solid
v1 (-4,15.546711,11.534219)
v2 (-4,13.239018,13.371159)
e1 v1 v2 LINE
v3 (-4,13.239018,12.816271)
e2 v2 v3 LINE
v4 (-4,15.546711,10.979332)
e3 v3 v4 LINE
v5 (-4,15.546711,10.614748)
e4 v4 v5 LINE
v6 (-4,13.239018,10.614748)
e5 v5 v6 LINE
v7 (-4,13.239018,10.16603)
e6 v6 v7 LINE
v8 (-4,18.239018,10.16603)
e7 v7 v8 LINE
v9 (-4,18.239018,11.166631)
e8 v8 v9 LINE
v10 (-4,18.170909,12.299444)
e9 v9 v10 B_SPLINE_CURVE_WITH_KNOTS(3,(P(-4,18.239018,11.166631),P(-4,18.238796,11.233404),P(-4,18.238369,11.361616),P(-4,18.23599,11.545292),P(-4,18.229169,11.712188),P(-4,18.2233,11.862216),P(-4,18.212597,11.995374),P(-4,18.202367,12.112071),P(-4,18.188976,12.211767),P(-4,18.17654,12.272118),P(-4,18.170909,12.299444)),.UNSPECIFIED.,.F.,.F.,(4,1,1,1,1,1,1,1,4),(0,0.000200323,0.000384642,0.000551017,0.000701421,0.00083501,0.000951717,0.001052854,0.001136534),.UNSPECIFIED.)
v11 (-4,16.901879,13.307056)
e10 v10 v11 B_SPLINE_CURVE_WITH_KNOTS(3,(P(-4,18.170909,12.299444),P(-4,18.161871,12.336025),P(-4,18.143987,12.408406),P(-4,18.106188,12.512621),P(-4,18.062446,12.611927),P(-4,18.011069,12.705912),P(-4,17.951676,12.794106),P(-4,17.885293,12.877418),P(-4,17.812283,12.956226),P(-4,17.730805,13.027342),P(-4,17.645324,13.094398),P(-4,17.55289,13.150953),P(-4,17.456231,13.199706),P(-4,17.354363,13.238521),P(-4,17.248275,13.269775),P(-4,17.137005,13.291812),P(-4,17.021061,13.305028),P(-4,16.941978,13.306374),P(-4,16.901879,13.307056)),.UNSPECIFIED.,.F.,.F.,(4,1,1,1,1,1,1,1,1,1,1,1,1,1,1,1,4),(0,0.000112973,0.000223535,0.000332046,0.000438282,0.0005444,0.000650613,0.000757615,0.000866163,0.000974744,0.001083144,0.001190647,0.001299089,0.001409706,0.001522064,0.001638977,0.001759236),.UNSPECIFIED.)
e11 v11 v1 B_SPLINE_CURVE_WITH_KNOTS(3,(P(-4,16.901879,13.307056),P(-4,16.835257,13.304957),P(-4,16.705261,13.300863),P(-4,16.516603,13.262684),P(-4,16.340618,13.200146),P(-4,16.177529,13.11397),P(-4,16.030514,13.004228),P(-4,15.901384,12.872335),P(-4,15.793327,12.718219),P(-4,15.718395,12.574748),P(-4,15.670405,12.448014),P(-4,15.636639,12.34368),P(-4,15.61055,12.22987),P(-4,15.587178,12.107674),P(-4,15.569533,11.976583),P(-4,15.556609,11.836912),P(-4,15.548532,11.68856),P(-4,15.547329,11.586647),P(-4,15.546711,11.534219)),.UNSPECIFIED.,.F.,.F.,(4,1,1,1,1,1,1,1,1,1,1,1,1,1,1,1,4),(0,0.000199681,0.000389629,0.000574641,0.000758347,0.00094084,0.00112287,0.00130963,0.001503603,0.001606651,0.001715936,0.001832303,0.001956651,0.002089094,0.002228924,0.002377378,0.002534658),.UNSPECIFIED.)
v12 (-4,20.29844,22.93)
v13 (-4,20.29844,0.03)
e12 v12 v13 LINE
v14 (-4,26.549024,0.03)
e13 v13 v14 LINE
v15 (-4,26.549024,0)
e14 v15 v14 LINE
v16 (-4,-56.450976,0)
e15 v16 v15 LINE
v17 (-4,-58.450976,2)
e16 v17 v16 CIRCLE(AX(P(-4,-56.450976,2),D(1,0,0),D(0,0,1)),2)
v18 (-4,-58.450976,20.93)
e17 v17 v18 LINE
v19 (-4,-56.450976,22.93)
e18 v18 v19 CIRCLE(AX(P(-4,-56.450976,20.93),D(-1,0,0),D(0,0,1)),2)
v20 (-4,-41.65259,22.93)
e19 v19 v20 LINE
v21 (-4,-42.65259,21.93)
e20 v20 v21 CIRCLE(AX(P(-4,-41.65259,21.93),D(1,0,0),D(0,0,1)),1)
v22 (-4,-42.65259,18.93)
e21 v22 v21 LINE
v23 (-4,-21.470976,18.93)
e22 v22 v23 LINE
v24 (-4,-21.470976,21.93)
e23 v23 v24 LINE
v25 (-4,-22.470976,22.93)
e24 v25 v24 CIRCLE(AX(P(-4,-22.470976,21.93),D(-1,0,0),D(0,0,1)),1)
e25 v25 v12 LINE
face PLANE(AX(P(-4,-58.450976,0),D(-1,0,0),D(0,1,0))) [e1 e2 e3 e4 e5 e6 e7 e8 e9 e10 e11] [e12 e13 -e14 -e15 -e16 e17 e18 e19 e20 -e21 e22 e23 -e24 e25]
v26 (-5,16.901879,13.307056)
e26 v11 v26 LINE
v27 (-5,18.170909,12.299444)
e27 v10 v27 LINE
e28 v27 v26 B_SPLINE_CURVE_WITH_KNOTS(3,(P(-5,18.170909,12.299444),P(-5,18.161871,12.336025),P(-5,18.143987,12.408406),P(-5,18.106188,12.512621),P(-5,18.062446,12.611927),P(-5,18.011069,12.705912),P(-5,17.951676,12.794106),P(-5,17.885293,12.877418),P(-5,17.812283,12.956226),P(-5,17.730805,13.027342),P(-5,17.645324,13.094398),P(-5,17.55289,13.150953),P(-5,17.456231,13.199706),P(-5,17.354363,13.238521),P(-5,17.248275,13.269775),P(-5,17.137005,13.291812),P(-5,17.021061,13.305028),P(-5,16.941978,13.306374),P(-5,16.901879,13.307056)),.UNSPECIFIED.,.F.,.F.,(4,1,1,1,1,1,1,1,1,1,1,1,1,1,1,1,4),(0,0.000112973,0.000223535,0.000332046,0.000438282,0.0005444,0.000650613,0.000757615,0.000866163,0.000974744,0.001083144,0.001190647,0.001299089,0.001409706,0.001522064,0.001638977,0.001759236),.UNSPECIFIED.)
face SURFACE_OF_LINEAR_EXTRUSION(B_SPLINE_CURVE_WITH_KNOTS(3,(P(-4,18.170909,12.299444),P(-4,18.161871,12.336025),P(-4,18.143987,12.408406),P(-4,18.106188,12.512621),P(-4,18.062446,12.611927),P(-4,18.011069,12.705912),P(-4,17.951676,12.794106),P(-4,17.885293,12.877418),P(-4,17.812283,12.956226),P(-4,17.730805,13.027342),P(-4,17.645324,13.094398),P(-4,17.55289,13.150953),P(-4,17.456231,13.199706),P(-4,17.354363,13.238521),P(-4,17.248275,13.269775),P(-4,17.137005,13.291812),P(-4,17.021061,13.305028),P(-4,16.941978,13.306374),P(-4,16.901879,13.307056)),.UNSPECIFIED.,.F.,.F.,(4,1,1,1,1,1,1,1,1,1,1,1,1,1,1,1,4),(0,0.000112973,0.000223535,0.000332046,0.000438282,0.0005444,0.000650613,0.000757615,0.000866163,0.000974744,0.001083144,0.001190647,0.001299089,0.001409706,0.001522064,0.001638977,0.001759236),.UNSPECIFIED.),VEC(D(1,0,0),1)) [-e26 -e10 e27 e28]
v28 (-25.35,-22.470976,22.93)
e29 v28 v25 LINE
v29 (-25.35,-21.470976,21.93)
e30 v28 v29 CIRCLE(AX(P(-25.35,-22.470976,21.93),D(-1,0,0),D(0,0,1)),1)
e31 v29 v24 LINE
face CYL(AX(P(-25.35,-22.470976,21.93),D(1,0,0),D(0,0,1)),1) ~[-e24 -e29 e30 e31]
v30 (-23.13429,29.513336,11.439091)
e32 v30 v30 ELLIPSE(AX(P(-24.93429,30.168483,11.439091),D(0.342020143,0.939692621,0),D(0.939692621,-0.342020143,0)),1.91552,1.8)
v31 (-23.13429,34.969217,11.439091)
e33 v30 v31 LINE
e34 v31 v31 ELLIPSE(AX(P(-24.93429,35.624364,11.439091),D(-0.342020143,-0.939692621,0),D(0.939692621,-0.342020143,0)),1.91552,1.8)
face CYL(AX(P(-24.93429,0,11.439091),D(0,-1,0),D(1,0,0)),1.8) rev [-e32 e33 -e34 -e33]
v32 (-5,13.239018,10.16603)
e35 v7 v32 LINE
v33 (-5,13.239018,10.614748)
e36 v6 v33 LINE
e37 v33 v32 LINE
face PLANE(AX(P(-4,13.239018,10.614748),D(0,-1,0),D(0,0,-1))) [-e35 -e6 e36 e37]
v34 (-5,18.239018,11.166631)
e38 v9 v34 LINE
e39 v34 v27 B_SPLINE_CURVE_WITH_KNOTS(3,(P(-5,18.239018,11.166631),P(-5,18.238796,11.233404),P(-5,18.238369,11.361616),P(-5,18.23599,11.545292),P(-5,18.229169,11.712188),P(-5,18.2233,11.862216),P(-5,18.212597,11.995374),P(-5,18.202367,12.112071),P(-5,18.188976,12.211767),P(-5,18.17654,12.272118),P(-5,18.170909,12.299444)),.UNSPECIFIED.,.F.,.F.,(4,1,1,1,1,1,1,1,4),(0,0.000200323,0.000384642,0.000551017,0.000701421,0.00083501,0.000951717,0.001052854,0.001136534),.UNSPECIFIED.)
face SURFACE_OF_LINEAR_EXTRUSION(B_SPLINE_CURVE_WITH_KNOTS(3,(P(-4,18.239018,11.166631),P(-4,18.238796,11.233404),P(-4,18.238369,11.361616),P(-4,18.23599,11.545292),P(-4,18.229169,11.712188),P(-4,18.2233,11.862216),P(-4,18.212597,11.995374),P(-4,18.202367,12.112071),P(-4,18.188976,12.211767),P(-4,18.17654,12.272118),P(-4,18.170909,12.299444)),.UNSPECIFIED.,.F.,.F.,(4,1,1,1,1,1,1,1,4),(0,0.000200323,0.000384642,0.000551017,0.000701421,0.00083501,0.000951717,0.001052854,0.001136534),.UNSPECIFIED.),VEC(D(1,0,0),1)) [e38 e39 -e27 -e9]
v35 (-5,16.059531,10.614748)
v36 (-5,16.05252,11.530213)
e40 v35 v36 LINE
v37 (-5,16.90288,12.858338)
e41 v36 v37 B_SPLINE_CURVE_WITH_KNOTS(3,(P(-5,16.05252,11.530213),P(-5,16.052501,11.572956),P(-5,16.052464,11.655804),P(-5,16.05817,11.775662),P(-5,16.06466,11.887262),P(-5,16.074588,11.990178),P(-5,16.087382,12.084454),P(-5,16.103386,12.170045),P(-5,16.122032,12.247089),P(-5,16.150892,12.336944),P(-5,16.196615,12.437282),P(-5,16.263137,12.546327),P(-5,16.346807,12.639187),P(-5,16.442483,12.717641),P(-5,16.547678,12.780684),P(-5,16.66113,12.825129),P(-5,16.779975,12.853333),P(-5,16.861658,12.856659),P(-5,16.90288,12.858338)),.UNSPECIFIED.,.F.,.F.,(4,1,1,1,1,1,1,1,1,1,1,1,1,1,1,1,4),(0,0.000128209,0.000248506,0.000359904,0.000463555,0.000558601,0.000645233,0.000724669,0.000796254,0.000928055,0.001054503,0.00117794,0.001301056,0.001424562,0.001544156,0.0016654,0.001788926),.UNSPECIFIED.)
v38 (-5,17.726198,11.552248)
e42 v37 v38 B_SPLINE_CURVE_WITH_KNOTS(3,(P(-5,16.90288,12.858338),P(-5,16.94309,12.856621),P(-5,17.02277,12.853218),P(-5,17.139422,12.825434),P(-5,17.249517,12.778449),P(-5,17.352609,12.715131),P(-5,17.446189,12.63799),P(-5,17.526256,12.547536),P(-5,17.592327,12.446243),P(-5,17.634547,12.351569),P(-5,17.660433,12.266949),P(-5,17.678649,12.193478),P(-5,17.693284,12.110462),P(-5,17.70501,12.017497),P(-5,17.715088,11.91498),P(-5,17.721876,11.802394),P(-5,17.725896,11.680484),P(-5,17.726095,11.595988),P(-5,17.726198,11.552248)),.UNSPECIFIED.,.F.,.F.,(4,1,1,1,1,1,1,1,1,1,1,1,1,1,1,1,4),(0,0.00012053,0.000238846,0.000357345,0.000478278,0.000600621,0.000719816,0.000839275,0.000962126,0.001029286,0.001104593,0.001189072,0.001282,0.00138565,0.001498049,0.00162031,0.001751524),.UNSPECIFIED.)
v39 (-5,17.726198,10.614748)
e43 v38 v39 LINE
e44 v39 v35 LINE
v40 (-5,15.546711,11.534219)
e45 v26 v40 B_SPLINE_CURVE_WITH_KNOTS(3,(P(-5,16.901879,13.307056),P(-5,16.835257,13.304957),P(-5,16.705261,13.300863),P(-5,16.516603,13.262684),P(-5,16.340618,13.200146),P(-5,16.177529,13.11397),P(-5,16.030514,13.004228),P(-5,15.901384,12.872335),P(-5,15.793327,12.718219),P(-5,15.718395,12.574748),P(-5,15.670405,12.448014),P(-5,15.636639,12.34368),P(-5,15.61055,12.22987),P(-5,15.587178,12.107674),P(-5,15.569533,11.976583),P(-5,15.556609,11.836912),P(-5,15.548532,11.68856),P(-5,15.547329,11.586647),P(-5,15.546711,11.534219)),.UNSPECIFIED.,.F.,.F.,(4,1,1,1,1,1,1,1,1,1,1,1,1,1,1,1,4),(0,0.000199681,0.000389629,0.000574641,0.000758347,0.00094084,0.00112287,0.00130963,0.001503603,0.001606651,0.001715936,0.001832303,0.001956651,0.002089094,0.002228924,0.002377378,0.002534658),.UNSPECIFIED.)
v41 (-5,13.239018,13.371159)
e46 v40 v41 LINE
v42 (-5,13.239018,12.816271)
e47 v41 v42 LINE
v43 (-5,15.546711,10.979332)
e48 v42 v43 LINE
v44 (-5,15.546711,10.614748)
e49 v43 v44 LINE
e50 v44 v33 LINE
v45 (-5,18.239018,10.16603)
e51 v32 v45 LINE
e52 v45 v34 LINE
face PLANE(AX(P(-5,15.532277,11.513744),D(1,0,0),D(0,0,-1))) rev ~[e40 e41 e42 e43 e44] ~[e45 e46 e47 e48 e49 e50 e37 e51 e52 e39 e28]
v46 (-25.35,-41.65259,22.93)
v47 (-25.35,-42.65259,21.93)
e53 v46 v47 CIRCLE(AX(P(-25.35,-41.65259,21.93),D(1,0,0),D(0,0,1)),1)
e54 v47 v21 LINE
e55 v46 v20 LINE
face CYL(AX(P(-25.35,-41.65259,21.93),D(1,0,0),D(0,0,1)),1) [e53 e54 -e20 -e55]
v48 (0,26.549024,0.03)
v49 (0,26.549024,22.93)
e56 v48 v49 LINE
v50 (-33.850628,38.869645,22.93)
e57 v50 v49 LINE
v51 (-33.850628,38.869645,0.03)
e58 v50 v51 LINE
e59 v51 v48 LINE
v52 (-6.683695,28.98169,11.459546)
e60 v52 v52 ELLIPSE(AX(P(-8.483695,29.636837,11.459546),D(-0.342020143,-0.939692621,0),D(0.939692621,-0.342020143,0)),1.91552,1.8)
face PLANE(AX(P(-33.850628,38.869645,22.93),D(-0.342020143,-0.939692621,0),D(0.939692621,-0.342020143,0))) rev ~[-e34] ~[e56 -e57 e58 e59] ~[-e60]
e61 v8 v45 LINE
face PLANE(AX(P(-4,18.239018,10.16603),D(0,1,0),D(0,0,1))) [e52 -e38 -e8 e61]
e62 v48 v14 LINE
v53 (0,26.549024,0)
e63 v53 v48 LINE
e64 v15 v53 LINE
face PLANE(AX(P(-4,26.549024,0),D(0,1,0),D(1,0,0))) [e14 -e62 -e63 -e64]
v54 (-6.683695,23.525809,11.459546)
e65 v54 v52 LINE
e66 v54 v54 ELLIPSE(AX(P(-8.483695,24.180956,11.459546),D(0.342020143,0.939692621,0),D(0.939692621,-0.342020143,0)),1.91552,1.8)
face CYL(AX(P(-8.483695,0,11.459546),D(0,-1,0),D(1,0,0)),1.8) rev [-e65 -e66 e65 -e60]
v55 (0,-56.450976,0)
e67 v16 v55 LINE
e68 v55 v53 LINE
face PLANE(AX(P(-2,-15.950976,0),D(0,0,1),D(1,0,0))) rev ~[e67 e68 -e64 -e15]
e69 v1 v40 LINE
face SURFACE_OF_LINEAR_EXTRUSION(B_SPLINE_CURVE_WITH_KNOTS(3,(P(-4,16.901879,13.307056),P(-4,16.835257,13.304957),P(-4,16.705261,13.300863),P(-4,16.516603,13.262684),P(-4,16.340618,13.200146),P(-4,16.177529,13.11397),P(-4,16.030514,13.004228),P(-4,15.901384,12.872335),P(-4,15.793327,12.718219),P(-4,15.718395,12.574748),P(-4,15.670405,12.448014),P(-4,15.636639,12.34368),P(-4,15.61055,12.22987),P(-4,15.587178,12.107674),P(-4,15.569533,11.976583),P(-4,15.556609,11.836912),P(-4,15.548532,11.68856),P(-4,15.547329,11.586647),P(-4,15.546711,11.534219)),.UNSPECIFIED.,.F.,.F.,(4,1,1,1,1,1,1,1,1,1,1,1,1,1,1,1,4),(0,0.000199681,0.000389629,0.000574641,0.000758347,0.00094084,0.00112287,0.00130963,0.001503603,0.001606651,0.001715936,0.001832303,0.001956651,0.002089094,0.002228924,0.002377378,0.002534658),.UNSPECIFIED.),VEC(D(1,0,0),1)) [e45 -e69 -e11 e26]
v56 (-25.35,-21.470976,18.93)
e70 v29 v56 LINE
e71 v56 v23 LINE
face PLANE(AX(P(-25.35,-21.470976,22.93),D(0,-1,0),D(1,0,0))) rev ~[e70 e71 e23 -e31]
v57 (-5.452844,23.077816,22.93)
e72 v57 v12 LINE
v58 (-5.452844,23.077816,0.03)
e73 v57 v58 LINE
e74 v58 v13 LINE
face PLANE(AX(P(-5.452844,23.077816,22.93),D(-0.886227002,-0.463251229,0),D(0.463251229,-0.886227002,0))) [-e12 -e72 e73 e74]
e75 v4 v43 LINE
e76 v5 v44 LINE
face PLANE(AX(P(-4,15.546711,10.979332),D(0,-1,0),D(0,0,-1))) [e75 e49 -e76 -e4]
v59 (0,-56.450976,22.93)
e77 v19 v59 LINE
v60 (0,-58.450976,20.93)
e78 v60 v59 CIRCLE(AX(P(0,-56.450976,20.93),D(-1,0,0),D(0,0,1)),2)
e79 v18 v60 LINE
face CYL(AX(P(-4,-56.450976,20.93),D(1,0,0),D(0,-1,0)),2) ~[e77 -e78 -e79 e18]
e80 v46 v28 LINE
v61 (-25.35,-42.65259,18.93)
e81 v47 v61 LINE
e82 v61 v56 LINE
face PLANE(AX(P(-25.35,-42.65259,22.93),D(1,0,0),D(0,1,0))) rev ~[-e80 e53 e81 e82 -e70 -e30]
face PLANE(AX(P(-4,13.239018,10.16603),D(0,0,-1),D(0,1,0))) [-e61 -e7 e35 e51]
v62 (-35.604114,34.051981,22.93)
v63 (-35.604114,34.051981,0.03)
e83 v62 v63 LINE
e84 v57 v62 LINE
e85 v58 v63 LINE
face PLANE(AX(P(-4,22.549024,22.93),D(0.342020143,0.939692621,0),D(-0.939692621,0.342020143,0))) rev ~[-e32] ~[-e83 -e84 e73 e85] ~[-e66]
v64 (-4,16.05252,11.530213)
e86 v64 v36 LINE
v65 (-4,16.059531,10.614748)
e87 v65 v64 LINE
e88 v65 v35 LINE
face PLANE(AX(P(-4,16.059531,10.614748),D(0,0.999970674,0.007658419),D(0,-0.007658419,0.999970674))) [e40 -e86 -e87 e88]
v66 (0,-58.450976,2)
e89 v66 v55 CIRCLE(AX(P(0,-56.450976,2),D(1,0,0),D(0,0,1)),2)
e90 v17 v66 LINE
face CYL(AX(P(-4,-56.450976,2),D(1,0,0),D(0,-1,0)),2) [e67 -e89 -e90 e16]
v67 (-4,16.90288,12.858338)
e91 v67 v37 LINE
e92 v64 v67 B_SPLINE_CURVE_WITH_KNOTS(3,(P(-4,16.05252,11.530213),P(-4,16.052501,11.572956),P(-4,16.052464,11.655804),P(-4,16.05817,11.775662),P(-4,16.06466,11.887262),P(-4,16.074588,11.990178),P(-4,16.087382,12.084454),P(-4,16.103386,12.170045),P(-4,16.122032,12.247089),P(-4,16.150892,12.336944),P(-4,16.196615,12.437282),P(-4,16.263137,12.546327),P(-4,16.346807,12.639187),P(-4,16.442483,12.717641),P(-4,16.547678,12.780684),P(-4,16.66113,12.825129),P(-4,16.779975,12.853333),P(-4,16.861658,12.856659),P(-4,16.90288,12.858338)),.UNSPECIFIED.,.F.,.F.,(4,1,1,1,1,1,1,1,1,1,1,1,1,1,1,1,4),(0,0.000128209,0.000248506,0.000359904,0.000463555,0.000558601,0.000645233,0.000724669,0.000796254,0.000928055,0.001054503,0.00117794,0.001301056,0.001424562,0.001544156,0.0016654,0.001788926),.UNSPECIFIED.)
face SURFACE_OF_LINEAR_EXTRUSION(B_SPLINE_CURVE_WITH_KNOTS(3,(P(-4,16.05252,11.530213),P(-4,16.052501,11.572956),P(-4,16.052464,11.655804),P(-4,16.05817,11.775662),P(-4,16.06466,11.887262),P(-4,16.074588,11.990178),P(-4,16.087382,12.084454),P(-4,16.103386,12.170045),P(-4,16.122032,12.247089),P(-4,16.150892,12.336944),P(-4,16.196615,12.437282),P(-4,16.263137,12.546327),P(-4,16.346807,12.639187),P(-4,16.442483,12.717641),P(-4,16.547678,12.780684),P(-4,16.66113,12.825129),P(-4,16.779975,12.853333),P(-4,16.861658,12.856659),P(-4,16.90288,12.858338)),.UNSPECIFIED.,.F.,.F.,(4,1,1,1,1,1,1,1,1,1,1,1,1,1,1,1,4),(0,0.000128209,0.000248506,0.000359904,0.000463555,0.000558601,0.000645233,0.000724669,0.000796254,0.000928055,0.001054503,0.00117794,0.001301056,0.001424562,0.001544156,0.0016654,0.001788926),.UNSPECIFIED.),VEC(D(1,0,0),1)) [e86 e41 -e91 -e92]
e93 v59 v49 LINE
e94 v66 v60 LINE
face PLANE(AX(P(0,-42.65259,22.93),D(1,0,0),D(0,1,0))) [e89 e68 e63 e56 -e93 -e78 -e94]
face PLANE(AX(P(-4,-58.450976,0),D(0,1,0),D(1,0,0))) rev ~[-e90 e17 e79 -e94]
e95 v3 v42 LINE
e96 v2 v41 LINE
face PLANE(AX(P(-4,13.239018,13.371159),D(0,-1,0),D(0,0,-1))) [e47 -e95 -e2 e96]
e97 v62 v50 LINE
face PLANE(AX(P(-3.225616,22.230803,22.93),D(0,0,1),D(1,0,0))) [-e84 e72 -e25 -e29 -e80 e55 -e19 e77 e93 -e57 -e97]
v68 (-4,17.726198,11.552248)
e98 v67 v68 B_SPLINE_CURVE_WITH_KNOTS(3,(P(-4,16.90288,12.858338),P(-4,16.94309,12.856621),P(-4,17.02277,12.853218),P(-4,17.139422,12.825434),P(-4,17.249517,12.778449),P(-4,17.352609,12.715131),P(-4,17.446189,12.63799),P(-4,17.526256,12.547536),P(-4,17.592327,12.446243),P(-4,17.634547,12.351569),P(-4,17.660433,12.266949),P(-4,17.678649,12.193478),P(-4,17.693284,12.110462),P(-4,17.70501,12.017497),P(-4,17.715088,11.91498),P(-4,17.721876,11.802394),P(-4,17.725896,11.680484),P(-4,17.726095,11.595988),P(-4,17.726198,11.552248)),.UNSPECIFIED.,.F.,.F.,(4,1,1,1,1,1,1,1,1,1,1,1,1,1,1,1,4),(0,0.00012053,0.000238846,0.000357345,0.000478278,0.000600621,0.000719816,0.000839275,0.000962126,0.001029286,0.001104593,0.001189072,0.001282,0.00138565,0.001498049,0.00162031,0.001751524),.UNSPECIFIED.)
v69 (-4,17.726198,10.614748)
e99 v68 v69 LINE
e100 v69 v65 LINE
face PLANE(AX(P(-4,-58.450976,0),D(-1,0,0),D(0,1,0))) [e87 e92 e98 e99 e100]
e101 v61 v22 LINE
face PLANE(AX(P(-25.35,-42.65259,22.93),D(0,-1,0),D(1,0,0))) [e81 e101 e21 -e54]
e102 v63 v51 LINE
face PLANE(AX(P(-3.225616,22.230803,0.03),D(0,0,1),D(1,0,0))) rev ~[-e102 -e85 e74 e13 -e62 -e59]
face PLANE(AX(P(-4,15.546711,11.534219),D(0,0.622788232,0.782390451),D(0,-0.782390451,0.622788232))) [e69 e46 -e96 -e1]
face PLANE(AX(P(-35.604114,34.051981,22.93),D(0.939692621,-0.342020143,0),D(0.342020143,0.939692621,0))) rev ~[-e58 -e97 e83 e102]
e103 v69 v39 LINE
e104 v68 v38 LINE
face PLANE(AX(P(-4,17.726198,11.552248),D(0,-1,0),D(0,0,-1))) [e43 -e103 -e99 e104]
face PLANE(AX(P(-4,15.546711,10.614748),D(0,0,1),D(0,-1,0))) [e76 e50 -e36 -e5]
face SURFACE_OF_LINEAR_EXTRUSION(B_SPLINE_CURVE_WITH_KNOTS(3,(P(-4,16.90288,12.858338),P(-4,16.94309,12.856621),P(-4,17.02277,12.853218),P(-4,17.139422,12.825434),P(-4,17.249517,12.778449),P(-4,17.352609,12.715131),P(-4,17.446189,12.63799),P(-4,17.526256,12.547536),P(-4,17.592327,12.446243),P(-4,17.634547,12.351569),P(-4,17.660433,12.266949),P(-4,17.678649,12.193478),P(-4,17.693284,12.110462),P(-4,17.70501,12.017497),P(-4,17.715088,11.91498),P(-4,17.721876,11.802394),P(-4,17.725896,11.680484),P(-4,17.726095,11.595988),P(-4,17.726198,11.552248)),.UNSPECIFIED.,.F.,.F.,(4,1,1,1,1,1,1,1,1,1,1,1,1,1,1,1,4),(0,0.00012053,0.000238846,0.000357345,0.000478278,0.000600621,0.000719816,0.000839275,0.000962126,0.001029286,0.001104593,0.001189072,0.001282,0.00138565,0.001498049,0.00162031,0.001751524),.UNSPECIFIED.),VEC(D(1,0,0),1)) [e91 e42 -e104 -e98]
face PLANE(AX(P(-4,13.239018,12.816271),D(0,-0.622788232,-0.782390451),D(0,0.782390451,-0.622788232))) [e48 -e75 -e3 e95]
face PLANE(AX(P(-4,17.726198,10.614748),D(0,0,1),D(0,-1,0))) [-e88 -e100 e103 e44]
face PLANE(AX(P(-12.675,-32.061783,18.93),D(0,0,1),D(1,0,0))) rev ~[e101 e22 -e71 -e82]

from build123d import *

# Parameters (mm, degrees)
ESQUISSE1_W             = 4
ESQUISSE1_H             = 85
BOSS_EXTRU_1_DEPTH      = 22.93
BOSS_EXTRU_5_DEPTH      = 22.9
ESQUISSE5_W             = 25.35
ESQUISSE5_H             = 21.181614094
BOSS_EXTRU_6_DEPTH      = 4
CONG_1_R                = 2
CONG_5_R                = 1
ESQUISSE9_R             = 1.8
ENL_V_MAT_EXTRU_1_DEPTH = 58
BOSS_EXTRU_8_DEPTH      = 1
BOSS_EXTRU_9_DEPTH      = 22.9


with BuildPart() as part:
    # Esquisse1 → Boss.-Extru.1 (new body)
    with BuildSketch(Plane.XY):
        with Locations((-2, -15.95097561)):
            Rectangle(ESQUISSE1_W, ESQUISSE1_H)
    extrude(amount=BOSS_EXTRU_1_DEPTH)

    # Esquisse2 → Boss.-Extru.5 (add)
    with BuildSketch(Plane.XY.offset(22.93)):
        Polygon((-33.850627534, 38.869645224), (0, 26.54902439), (0, 22.54902439), (-4, 22.54902439), (-35.604113867, 34.051981118), align=None)
    extrude(amount=-BOSS_EXTRU_5_DEPTH)

    # Esquisse5 → Boss.-Extru.6 (add)
    with BuildSketch(Plane.XY.offset(22.93)):
        with Locations((-12.675, -32.061782657)):
            Rectangle(ESQUISSE5_W, ESQUISSE5_H)
    extrude(amount=-BOSS_EXTRU_6_DEPTH)

    # Congé1
    cong_1_edges = [part.edges().sort_by_distance(p)[0] for p in [
        (-2, -58.45097561, 22.93),
        (-2, -58.45097561, 0),
    ]]
    fillet(cong_1_edges, radius=CONG_1_R)

    # Congé5
    cong_5_edges = [part.edges().sort_by_distance(p)[0] for p in [
        (-14.675, -21.47097561, 22.93),
        (-14.675, -42.652589704, 22.93),
    ]]
    fillet(cong_5_edges, radius=CONG_5_R)

    # Esquisse9 → Enlèv. mat.-Extru.1 (cut)
    with BuildSketch(Plane(origin=(0, 0, 0), x_dir=(1, 0, 0), z_dir=(0, 1, 0))):
        with Locations((-24.9342899, -11.439091382)):
            Circle(ESQUISSE9_R)
        with Locations((-8.483694977, -11.459545691)):
            Circle(ESQUISSE9_R)
    extrude(amount=ENL_V_MAT_EXTRU_1_DEPTH, mode=Mode.SUBTRACT)

    # Esquisse10 → Boss.-Extru.8 (add)
    with BuildSketch(Plane.ZY.offset(4)):
        with BuildLine():
            Line((10.166030362, 18.2390183), (11.166631323, 18.2390183))
            add(Edge.make_bspline(
                [(11.166631323, 18.2390183), (11.233404364, 18.238796034), (11.361615999, 18.238369259), (11.545292099, 18.235989598), (11.712187952, 18.22916909), (11.862216294, 18.223299685), (11.995374373, 18.212596912), (12.112070502, 18.202367416), (12.211767213, 18.188976472), (12.272118429, 18.176540153), (12.299443823, 18.170909326)],
                knots=[0, 0, 0, 0, 0.000200323, 0.000384642, 0.000551017, 0.000701421, 0.00083501, 0.000951717, 0.001052854, 0.001136534, 0.001136534, 0.001136534, 0.001136534], degree=3))
            add(Edge.make_bspline(
                [(12.299443823, 18.170909326), (12.336024715, 18.161871089), (12.408406128, 18.143987427), (12.512620508, 18.106187997), (12.611926685, 18.062445676), (12.705912149, 18.011068933), (12.794106136, 17.951676391), (12.877418009, 17.885293359), (12.956225814, 17.812283065), (13.027342428, 17.73080472), (13.094398216, 17.645323991), (13.150953397, 17.552890053), (13.199705511, 17.456230728), (13.238520535, 17.354362988), (13.269774783, 17.248274743), (13.291812268, 17.137005033), (13.30502825, 17.021060783), (13.306373758, 16.941978056), (13.307056003, 16.901878877)],
                knots=[0, 0, 0, 0, 0.000112973, 0.000223535, 0.000332046, 0.000438282, 0.0005444, 0.000650613, 0.000757615, 0.000866163, 0.000974744, 0.001083144, 0.001190647, 0.001299089, 0.001409706, 0.001522064, 0.001638977, 0.001759236, 0.001759236, 0.001759236, 0.001759236], degree=3))
            add(Edge.make_bspline(
                [(13.307056003, 16.901878877), (13.304957434, 16.835257299), (13.300862583, 16.705261345), (13.262683863, 16.516602943), (13.200145978, 16.340618207), (13.113969851, 16.177528725), (13.004227743, 16.030513517), (12.872335184, 15.901384295), (12.718218596, 15.793327277), (12.574748145, 15.718394699), (12.448013574, 15.67040483), (12.34368027, 15.636638603), (12.229870302, 15.610550081), (12.10767411, 15.587178464), (11.976583173, 15.569533186), (11.836911688, 15.55660948), (11.688560043, 15.548532268), (11.586647087, 15.547329403), (11.534219464, 15.546710608)],
                knots=[0, 0, 0, 0, 0.000199681, 0.000389629, 0.000574641, 0.000758347, 0.00094084, 0.00112287, 0.00130963, 0.001503603, 0.001606651, 0.001715936, 0.001832303, 0.001956651, 0.002089094, 0.002228924, 0.002377378, 0.002534658, 0.002534658, 0.002534658, 0.002534658], degree=3))
            Line((11.534219464, 15.546710608), (13.371158567, 13.2390183))
            Line((13.371158567, 13.2390183), (12.816270746, 13.2390183))
            Line((12.816270746, 13.2390183), (10.979331644, 15.546710608))
            Line((10.979331644, 15.546710608), (10.61474831, 15.546710608))
            Line((10.61474831, 15.546710608), (10.61474831, 13.2390183))
            Line((10.61474831, 13.2390183), (10.166030362, 13.2390183))
            Line((10.166030362, 13.2390183), (10.166030362, 18.2390183))
        make_face()
        with BuildLine():
            Line((10.61474831, 17.726197787), (10.61474831, 16.05953112))
            Line((10.61474831, 16.05953112), (11.530213054, 16.052519902))
            add(Edge.make_bspline(
                [(11.530213054, 16.052519902), (11.572955967, 16.052500993), (11.655803905, 16.052464341), (11.775661998, 16.058169736), (11.887262158, 16.06466019), (11.990177518, 16.074587827), (12.084454054, 16.087382215), (12.170044644, 16.103386478), (12.247089004, 16.122032282), (12.336944059, 16.150891747), (12.437281961, 16.196614631), (12.546326904, 16.263136772), (12.639187386, 16.346806942), (12.717641475, 16.442483308), (12.78068352, 16.547677949), (12.825129312, 16.661129905), (12.853332801, 16.779975045), (12.856659294, 16.861658056), (12.858338054, 16.902880479)],
                knots=[0, 0, 0, 0, 0.000128209, 0.000248506, 0.000359904, 0.000463555, 0.000558601, 0.000645233, 0.000724669, 0.000796254, 0.000928055, 0.001054503, 0.00117794, 0.001301056, 0.001424562, 0.001544156, 0.0016654, 0.001788926, 0.001788926, 0.001788926, 0.001788926], degree=3))
            add(Edge.make_bspline(
                [(12.858338054, 16.902880479), (12.856620738, 16.94308987), (12.853217645, 17.022770211), (12.82543369, 17.139421512), (12.778448859, 17.249517155), (12.715131376, 17.352609276), (12.637989726, 17.446188899), (12.547535708, 17.52625626), (12.446242572, 17.592326924), (12.351569432, 17.634547468), (12.266949128, 17.660432973), (12.193478185, 17.678648921), (12.110461789, 17.693283876), (12.017496848, 17.705009678), (11.914980232, 17.715088169), (11.802393588, 17.721876425), (11.680483902, 17.725896231), (11.595988286, 17.726094929), (11.55224831, 17.726197787)],
                knots=[0, 0, 0, 0, 0.00012053, 0.000238846, 0.000357345, 0.000478278, 0.000600621, 0.000719816, 0.000839275, 0.000962126, 0.001029286, 0.001104593, 0.001189072, 0.001282, 0.00138565, 0.001498049, 0.00162031, 0.001751524, 0.001751524, 0.001751524, 0.001751524], degree=3))
            Line((11.55224831, 17.726197787), (10.61474831, 17.726197787))
        make_face(mode=Mode.SUBTRACT)
    extrude(amount=BOSS_EXTRU_8_DEPTH)

    # Esquisse11 → Boss.-Extru.9 (add)
    with BuildSketch(Plane.XY.offset(22.93)):
        Polygon((-5.452843765, 23.077816276), (-4, 20.298440223), (-0.659211444, 23.077816276), align=None)
    extrude(amount=-BOSS_EXTRU_9_DEPTH)


solid = part.part
